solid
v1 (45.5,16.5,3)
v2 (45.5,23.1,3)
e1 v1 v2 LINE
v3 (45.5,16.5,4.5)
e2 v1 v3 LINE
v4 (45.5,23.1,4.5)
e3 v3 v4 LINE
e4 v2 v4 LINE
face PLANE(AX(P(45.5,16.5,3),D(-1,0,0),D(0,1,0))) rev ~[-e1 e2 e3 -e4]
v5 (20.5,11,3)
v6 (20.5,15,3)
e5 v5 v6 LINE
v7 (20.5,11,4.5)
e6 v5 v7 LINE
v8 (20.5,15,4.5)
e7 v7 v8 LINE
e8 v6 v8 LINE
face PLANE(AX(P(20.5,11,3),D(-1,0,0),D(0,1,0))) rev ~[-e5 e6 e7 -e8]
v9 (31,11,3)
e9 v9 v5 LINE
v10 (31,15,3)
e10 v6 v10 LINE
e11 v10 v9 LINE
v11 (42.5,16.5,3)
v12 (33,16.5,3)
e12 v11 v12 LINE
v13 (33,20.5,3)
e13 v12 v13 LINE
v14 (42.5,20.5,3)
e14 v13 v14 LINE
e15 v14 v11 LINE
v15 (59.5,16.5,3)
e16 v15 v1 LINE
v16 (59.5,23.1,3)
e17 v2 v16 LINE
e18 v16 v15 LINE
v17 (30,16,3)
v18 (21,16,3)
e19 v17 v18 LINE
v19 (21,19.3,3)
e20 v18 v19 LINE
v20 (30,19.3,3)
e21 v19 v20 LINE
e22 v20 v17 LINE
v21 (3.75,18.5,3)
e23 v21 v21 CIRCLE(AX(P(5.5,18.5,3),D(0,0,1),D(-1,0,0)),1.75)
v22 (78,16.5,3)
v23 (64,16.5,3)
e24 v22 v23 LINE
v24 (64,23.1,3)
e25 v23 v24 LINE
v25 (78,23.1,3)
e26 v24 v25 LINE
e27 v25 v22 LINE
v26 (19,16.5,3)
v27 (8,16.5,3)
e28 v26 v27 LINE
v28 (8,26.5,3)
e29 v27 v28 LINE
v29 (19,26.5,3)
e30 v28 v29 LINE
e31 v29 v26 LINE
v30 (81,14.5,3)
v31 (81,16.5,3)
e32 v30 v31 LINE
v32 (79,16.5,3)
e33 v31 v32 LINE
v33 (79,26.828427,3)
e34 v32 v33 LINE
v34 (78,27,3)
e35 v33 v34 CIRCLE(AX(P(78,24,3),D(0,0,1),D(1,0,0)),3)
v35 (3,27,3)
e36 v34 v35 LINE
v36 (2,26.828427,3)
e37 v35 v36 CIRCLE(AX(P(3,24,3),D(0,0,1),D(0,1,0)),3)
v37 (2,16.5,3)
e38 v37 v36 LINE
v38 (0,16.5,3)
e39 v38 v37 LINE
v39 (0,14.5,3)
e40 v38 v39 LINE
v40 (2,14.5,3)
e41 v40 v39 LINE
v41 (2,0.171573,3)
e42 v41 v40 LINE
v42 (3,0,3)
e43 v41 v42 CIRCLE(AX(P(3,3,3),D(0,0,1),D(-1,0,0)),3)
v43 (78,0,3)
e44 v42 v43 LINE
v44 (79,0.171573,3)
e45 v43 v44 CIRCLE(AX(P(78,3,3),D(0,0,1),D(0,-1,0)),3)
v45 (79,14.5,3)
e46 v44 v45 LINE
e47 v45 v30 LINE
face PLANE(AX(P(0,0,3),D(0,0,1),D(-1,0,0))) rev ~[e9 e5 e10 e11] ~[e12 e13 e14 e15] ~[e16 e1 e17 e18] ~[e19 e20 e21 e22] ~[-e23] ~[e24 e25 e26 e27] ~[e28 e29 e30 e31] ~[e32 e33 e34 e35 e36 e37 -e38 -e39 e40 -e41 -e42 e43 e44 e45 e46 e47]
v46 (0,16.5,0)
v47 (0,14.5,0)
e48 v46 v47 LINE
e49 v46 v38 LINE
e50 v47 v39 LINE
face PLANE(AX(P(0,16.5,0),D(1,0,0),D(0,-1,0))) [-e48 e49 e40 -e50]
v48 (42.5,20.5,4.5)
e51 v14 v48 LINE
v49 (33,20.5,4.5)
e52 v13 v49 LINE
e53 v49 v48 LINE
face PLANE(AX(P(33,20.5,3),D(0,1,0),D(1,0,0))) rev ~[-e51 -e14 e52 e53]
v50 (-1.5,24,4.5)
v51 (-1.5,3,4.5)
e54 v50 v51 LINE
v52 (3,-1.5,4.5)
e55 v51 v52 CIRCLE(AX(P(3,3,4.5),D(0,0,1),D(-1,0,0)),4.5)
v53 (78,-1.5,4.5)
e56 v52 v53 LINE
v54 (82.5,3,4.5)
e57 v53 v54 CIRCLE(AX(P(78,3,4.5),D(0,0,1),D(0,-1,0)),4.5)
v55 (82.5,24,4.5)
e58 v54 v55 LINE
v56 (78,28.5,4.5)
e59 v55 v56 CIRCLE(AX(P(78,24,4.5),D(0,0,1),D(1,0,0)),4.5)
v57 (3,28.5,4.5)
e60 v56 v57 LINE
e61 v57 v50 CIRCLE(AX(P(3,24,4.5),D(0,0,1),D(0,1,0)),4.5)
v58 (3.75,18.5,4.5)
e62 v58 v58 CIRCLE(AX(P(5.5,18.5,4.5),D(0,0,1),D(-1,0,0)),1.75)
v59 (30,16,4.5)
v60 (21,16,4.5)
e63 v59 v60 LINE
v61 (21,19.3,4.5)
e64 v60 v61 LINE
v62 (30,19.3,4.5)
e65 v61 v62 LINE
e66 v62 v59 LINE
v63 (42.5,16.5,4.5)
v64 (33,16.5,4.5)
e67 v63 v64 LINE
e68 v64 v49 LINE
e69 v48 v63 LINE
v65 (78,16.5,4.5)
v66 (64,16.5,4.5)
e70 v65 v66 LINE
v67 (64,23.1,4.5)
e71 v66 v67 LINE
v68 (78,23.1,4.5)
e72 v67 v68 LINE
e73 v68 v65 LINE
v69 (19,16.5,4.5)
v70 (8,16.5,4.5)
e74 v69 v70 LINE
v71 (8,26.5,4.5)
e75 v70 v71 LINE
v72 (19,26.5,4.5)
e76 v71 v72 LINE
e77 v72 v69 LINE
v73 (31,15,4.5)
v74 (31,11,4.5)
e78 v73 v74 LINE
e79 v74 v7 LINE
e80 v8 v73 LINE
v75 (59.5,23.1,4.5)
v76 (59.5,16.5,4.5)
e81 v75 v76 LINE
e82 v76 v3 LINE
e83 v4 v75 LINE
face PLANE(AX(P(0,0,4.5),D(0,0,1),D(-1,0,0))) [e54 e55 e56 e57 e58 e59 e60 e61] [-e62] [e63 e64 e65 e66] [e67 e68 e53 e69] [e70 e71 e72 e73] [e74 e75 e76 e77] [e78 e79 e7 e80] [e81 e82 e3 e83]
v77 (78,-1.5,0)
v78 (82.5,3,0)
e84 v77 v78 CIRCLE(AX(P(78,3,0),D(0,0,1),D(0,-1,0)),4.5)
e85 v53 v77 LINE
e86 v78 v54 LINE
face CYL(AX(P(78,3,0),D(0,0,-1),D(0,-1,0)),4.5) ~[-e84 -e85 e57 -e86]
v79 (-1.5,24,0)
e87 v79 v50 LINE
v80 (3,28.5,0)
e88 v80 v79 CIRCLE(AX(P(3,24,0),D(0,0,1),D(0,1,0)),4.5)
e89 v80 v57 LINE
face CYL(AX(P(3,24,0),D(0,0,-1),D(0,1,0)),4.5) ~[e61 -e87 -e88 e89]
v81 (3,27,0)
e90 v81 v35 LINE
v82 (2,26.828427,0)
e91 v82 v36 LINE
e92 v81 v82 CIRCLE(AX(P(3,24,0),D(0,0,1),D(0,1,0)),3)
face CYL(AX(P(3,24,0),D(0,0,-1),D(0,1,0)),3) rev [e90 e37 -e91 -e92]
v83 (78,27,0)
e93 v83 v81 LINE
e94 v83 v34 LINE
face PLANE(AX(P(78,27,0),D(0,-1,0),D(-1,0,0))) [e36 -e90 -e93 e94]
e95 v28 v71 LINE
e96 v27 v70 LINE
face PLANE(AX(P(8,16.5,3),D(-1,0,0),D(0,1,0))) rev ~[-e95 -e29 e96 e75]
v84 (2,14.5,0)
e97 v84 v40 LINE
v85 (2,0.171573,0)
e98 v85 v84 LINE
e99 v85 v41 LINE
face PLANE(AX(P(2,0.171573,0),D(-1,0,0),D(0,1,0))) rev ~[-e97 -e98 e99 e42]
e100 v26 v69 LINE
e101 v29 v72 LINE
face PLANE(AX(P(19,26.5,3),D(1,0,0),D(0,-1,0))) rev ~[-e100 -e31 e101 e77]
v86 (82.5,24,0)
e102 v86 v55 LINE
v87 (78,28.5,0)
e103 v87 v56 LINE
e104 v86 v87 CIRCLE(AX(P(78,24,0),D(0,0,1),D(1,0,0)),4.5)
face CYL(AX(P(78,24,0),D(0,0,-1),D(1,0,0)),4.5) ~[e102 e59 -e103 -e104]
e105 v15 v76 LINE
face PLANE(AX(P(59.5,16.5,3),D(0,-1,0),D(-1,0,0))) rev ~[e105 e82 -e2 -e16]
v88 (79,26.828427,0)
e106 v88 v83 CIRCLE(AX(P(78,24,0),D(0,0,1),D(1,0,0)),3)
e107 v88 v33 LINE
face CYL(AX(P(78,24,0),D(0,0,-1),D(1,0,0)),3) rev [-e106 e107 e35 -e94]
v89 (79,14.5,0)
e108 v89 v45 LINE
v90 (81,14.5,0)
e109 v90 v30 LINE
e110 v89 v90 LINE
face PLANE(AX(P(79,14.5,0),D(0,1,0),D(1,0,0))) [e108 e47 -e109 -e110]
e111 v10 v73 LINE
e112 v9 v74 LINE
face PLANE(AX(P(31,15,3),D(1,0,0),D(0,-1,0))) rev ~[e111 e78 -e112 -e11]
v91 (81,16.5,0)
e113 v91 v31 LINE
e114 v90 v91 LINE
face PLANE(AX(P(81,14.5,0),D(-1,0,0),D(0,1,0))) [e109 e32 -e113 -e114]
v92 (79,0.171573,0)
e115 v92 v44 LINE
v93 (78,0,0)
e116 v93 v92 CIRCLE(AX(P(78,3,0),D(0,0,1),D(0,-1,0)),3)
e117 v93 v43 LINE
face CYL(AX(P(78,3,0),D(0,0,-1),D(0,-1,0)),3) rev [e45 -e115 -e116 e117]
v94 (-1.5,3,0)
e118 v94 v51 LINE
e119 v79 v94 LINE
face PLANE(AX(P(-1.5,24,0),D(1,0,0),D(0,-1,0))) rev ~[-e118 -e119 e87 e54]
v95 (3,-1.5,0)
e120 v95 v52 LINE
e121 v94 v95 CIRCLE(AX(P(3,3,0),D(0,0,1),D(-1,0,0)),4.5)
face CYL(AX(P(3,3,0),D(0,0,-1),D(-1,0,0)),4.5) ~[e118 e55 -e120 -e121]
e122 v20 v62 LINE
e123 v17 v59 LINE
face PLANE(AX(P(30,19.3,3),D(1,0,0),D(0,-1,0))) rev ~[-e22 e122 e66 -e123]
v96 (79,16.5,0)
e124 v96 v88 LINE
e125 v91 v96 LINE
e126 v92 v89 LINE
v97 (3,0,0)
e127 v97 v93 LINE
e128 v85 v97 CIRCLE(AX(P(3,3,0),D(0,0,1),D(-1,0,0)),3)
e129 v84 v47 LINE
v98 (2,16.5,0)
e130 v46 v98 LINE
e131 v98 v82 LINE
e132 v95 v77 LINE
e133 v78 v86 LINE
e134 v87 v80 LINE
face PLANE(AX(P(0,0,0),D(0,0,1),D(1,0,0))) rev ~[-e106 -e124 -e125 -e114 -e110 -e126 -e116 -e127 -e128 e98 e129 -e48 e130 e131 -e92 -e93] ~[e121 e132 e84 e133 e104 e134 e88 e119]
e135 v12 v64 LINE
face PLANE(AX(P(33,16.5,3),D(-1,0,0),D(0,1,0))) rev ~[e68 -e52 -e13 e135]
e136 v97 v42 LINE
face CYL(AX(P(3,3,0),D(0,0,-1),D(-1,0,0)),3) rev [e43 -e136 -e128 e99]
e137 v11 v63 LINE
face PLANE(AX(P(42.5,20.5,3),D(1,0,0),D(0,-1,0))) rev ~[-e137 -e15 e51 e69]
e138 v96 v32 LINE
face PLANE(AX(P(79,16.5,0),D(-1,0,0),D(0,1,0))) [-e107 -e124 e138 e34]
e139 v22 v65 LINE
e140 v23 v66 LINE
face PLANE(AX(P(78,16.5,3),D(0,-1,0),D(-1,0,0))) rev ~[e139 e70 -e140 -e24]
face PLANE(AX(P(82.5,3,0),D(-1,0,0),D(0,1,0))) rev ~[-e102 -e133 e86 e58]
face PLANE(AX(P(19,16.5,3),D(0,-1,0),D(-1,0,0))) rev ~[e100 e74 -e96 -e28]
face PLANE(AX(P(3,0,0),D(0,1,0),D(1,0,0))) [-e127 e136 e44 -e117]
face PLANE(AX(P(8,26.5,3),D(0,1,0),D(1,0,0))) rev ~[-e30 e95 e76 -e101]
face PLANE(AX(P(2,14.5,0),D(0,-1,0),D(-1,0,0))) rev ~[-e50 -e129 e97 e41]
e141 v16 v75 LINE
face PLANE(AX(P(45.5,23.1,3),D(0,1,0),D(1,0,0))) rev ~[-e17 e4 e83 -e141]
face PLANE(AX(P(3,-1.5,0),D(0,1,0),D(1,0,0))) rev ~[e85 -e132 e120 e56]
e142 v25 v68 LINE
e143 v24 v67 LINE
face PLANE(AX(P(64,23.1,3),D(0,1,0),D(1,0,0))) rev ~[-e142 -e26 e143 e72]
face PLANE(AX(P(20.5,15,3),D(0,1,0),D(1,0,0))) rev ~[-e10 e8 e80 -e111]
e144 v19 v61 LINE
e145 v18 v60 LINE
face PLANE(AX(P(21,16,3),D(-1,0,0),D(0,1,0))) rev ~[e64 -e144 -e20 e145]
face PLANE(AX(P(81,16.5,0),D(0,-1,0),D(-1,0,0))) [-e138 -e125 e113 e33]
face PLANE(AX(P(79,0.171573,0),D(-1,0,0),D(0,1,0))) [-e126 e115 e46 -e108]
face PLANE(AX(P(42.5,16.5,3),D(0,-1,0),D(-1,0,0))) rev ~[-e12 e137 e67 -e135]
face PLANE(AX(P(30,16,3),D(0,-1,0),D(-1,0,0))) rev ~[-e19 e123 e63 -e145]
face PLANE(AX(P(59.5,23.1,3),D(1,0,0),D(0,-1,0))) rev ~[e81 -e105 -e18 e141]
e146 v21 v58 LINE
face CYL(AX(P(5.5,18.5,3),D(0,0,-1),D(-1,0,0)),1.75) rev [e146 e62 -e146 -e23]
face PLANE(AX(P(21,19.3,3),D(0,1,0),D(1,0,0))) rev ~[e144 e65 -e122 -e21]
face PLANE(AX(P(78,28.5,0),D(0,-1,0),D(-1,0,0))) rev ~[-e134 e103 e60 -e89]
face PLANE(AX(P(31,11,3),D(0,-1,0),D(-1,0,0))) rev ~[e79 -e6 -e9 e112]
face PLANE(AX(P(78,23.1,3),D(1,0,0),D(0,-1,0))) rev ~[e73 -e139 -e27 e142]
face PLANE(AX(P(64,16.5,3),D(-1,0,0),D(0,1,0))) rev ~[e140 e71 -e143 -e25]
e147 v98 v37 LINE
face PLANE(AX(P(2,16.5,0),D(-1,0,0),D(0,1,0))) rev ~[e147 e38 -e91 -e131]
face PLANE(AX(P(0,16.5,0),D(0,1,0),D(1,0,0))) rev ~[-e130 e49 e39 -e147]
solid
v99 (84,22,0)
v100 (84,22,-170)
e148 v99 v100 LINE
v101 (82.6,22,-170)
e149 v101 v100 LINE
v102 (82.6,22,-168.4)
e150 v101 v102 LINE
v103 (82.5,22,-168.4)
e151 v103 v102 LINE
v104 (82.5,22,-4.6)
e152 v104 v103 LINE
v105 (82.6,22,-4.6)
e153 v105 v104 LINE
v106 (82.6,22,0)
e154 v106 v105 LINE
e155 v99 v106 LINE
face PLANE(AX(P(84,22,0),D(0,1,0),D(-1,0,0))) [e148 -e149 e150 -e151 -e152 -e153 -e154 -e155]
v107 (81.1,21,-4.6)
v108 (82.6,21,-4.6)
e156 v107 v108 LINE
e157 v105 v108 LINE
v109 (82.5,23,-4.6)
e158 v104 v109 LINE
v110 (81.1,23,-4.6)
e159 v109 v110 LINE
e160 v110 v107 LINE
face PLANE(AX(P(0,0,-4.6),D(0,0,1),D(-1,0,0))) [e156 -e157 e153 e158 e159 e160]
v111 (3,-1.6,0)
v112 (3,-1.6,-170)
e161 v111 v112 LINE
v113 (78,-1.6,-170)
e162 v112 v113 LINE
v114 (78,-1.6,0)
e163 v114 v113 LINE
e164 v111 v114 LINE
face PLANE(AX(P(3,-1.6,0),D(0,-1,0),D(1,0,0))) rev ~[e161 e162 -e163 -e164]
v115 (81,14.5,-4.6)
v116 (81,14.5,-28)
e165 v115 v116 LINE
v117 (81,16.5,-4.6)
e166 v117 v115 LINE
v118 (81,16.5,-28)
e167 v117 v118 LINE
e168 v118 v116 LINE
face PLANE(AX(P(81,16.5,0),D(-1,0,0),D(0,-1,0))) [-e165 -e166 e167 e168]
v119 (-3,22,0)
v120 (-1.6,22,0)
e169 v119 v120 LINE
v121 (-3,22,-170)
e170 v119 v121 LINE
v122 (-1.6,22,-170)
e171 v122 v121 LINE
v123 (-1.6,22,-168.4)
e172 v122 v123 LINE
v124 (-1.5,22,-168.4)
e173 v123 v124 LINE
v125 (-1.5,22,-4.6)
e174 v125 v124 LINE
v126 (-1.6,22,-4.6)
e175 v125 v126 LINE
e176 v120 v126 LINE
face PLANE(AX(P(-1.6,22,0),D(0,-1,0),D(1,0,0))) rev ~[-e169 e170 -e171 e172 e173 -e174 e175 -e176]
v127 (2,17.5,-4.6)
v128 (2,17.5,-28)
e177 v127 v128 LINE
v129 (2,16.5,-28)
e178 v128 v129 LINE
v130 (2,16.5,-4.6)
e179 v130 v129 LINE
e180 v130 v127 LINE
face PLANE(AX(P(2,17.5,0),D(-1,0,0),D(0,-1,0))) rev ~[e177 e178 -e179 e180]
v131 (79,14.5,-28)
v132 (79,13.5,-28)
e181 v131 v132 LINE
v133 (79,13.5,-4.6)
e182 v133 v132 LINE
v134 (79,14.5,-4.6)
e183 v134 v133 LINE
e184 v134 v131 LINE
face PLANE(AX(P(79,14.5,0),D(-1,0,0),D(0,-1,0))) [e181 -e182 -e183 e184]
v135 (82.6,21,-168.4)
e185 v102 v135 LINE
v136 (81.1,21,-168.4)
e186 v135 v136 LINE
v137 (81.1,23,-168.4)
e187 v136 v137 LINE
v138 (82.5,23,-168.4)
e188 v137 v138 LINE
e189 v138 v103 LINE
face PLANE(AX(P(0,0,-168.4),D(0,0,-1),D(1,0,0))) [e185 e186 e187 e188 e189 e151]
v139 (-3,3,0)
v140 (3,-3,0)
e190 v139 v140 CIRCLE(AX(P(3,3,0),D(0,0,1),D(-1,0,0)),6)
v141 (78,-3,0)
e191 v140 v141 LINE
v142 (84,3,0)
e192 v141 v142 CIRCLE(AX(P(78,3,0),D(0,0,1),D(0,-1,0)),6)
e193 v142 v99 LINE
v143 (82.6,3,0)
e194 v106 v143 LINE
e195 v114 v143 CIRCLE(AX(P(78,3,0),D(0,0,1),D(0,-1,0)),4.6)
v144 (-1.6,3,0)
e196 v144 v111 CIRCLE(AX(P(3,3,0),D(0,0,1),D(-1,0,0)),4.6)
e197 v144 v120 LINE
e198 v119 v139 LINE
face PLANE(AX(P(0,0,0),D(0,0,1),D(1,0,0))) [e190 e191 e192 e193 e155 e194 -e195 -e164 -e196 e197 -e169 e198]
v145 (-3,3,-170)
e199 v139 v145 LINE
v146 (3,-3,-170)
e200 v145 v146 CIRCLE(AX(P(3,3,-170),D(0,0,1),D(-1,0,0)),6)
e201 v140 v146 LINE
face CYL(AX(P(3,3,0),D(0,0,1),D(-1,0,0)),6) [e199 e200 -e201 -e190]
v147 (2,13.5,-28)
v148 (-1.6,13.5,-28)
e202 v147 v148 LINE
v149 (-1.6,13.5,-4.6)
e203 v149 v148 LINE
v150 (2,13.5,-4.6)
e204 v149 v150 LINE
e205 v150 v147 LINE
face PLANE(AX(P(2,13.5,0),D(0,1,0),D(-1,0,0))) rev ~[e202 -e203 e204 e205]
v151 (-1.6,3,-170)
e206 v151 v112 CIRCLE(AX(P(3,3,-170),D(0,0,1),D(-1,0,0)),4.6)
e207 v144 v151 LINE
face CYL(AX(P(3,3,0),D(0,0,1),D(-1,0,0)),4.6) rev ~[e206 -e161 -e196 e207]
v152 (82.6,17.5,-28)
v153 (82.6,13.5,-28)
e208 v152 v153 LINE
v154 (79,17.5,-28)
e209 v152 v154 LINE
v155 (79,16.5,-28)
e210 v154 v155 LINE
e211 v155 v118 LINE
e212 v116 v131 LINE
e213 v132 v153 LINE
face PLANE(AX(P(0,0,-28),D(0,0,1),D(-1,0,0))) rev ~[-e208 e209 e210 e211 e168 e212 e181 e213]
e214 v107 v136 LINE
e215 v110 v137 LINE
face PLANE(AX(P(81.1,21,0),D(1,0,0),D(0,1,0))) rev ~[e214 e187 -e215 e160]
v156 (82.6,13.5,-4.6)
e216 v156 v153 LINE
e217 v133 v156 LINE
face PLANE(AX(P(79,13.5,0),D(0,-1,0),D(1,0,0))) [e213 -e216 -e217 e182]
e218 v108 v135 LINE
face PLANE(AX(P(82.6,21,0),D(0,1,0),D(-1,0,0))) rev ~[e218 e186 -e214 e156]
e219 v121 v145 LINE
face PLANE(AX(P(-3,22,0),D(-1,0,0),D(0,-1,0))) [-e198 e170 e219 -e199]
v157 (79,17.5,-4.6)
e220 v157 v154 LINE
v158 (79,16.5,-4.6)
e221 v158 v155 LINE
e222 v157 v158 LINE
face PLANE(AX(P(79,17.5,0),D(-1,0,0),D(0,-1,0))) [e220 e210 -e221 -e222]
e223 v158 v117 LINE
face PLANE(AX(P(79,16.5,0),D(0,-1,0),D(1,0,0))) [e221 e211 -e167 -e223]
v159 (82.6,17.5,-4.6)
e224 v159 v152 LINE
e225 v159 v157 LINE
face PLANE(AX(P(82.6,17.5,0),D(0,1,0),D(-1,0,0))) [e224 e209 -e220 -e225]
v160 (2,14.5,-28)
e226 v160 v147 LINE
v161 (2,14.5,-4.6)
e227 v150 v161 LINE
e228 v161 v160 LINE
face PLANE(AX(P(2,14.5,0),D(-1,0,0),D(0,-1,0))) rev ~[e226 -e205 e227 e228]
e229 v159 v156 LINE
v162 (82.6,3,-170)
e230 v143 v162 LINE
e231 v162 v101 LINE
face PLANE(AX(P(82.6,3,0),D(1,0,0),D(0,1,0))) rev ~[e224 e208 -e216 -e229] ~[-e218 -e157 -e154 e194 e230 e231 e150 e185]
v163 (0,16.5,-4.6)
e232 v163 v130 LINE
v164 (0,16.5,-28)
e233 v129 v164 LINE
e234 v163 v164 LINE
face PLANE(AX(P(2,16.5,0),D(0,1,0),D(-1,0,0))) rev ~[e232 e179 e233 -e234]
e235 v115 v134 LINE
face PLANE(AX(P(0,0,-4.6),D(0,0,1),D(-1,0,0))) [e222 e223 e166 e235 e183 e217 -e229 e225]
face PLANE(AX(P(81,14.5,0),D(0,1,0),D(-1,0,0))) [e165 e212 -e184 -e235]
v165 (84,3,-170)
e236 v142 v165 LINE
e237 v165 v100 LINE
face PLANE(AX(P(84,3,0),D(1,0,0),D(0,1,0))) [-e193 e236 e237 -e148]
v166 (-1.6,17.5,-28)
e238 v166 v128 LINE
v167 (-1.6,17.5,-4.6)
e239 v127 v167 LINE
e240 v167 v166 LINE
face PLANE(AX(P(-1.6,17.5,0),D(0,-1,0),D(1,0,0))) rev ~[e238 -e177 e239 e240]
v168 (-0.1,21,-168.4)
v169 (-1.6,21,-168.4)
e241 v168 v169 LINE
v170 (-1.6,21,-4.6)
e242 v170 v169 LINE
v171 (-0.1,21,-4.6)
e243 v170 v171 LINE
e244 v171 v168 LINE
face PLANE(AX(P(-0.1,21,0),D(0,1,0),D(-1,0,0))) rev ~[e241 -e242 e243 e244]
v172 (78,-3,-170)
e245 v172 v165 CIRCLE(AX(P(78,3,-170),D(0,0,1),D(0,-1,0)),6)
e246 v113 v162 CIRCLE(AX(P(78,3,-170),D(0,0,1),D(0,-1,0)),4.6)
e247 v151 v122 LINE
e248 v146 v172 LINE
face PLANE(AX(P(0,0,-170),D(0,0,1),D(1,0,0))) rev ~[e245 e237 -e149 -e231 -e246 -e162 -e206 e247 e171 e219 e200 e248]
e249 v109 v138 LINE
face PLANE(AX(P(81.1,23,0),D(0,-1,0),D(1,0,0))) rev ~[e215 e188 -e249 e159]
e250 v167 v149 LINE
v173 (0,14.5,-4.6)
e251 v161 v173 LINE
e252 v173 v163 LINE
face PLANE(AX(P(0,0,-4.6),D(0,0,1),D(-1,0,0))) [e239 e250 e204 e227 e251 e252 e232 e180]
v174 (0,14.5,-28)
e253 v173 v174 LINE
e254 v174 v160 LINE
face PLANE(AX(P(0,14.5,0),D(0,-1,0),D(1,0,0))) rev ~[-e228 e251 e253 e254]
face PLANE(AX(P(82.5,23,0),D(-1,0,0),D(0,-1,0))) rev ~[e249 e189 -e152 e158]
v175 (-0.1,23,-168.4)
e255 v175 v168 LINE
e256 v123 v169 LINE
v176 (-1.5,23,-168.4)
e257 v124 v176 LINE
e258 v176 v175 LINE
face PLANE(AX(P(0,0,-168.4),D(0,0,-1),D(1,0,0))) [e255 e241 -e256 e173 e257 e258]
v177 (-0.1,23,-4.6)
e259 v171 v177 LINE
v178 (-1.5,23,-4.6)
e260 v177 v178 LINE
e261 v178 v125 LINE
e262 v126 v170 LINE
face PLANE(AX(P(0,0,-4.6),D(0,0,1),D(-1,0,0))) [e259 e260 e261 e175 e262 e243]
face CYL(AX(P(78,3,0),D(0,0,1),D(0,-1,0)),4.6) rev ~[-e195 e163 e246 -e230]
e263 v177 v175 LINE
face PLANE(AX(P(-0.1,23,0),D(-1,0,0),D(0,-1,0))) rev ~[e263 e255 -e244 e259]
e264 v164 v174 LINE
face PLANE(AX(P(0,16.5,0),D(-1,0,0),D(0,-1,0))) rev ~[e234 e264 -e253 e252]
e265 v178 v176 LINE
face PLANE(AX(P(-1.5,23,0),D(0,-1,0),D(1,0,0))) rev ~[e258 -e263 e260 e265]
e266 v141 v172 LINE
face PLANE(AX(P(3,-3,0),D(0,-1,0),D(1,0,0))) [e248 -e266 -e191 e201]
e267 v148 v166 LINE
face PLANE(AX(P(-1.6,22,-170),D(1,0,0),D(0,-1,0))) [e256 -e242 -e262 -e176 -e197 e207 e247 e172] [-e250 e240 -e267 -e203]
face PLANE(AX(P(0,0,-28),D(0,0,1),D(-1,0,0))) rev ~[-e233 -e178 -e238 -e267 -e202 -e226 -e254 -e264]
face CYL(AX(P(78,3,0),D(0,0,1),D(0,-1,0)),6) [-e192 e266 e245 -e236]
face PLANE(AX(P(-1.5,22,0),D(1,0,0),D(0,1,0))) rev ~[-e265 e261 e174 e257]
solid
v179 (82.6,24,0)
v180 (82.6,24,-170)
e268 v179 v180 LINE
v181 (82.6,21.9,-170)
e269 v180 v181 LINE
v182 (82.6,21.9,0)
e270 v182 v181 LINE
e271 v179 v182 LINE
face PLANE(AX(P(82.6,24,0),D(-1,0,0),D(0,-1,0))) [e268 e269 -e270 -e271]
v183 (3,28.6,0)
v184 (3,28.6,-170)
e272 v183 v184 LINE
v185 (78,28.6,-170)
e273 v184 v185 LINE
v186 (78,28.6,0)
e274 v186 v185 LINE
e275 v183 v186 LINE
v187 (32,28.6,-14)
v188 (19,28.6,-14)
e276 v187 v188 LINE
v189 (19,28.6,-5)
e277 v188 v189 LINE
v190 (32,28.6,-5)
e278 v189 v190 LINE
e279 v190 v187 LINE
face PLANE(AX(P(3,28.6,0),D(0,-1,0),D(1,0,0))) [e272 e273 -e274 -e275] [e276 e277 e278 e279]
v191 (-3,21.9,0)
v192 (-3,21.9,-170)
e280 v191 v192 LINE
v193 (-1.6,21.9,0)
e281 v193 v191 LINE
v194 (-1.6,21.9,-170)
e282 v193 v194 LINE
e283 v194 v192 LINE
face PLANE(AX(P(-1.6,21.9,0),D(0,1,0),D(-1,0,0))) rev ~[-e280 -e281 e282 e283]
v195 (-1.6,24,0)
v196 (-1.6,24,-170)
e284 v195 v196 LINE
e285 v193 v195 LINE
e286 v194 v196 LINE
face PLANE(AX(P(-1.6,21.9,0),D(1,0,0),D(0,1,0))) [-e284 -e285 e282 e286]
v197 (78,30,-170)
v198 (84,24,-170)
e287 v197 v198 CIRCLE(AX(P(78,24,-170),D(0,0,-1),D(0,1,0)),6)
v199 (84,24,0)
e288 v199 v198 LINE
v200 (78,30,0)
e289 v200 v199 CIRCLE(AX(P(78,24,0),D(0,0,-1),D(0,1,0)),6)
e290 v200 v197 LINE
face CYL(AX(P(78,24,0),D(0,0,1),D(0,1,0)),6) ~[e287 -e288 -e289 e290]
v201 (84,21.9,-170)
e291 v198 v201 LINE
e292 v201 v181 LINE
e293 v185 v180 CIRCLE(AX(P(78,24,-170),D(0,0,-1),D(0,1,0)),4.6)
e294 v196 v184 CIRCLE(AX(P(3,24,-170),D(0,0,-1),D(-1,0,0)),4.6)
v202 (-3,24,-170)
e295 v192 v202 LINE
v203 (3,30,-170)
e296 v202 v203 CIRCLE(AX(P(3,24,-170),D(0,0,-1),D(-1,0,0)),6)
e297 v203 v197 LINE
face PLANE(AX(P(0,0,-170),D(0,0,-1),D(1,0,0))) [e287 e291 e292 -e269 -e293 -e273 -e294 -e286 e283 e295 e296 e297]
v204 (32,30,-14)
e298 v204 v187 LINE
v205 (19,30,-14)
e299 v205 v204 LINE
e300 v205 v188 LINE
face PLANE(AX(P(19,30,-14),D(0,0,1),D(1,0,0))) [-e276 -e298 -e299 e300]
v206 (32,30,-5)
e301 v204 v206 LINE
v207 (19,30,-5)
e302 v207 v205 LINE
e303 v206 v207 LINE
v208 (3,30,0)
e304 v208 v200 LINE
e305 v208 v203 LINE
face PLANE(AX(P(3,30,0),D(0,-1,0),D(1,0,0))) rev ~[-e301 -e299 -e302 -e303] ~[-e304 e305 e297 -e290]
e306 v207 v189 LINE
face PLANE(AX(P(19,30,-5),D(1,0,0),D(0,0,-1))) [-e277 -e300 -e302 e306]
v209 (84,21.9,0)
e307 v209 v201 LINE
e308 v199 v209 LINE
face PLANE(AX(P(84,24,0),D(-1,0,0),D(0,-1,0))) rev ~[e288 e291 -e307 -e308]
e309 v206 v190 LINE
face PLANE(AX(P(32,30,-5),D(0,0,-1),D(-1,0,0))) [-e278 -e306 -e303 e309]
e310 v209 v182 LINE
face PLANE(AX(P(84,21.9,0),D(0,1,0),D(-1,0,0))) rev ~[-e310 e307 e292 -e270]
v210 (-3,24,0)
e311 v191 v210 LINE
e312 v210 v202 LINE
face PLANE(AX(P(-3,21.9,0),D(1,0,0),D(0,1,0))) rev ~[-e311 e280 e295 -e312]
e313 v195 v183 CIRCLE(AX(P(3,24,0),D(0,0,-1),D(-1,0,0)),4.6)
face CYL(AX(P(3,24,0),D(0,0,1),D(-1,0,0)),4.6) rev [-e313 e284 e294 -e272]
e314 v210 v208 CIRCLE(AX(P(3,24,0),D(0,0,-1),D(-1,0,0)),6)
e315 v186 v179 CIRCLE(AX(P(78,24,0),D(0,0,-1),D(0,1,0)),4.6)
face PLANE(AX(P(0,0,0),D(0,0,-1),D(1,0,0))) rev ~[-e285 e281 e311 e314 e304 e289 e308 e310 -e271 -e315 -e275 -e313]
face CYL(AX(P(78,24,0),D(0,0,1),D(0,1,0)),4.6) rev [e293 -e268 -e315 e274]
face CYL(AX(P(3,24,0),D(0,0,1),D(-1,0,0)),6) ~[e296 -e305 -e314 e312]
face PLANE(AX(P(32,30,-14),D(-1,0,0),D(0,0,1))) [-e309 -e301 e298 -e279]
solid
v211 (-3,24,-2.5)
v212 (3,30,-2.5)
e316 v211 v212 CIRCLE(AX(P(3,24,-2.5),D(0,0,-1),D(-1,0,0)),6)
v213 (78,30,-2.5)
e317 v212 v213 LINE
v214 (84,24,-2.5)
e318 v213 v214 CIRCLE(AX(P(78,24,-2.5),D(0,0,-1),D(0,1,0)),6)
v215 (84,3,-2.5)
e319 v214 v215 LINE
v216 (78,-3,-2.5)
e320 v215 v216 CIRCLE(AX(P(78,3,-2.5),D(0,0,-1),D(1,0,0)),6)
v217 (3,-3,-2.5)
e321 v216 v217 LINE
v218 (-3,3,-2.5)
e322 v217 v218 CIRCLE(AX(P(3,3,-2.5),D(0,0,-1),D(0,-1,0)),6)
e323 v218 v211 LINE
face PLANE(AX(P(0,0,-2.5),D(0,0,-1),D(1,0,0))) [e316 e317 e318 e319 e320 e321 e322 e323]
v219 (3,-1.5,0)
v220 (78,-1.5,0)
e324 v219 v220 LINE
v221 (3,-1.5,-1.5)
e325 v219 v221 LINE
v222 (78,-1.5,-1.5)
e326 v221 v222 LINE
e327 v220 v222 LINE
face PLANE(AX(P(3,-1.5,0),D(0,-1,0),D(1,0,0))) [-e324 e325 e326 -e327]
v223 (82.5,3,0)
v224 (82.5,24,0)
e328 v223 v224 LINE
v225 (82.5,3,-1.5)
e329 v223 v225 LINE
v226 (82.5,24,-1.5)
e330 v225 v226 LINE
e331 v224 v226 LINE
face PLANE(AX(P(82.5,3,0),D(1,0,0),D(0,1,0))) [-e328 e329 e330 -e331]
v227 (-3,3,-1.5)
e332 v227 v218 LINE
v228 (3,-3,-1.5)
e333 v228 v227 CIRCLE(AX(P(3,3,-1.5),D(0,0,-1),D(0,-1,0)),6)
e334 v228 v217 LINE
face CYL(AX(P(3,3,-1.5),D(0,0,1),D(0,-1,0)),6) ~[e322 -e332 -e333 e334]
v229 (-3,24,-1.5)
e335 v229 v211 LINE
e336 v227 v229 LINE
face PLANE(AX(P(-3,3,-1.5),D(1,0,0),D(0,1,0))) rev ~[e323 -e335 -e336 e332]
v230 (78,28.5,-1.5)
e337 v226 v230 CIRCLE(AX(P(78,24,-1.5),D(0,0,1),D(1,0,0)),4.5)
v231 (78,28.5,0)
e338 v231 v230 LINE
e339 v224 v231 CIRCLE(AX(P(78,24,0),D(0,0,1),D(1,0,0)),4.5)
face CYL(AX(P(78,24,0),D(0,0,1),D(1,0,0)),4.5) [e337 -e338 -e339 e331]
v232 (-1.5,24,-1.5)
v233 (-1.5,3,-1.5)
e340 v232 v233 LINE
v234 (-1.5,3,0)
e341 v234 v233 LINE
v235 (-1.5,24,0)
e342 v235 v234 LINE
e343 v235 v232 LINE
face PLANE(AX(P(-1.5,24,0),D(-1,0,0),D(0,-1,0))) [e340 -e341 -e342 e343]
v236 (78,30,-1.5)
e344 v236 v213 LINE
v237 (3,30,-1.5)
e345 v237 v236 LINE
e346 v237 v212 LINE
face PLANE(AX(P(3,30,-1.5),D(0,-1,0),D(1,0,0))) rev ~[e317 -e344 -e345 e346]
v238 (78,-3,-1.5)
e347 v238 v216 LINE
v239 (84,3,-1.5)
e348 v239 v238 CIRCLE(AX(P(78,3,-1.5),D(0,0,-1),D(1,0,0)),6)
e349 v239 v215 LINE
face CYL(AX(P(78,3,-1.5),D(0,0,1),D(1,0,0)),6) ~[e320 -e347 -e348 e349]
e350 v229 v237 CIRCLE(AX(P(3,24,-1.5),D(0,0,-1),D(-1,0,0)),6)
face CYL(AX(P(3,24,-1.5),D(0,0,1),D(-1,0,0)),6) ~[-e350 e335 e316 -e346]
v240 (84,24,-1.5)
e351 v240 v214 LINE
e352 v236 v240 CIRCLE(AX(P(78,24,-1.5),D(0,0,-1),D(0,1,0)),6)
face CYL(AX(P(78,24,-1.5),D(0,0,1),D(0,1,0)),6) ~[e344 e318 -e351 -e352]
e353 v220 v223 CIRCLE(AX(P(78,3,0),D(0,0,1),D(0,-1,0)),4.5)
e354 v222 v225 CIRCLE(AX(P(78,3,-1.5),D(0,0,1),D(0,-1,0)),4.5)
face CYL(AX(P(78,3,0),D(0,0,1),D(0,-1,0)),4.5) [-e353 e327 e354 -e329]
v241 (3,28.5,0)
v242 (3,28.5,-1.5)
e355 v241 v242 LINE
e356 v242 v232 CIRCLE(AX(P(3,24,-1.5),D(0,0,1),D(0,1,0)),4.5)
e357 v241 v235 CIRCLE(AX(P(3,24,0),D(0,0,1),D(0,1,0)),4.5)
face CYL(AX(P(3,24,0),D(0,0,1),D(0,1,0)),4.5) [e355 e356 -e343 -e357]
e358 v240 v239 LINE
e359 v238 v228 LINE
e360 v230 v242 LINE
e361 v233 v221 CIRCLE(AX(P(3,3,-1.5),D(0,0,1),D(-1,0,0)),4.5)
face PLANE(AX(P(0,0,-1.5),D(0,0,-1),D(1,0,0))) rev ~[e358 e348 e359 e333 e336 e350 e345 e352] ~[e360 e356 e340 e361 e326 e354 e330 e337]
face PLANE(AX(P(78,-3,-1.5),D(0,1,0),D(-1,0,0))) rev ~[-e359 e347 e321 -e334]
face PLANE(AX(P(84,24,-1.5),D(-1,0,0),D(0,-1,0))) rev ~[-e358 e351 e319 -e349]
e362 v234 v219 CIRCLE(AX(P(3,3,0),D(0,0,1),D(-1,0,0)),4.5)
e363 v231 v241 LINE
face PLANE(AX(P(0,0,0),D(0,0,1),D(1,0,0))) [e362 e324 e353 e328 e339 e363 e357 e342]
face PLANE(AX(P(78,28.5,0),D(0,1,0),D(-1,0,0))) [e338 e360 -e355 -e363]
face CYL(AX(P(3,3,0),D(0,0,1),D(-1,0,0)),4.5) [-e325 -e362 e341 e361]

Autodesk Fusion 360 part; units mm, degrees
sketch "Sketch1" plane through (0, 0, 0) normal (0, 0, 1) x (1, 0, 0) in component "PWRBankModule"
  line L0 (3, 0) -> (78, 0)
  line L1 (81, 3) -> (81, 24)
  line L2 (78, 27) -> (3, 27)
  line L3 (0, 24) -> (0, 3)
  line L4 (2, 0) -> (2, 14.5)
  line L5 (2, 14.5) -> (0, 14.5)
  line L6 (0, 16.5) -> (2, 16.5)
  line L7 (2, 16.5) -> (2, 27)
  line L8 (79, 0) -> (79, 14.5)
  line L9 (79, 14.5) -> (81, 14.5)
  line L10 (81, 16.5) -> (79, 16.5)
  line L11 (79, 16.5) -> (79, 27)
  arc A0 (3, 27) -> (0, 24) centre (3, 24) ccw
  arc A1 (0, 3) -> (3, 0) centre (3, 3) ccw
  arc A2 (78, 0) -> (81, 3) centre (78, 3) ccw
  arc A3 (81, 24) -> (78, 27) centre (78, 24) ccw
  line L12 (82.5, 3) -> (82.5, 24)
  arc A4 (82.5, 24) -> (78, 28.5) centre (78, 24) ccw
  line L13 (78, 28.5) -> (3, 28.5)
  arc A5 (3, 28.5) -> (-1.5, 24) centre (3, 24) ccw
  line L14 (-1.5, 24) -> (-1.5, 3)
  arc A6 (-1.5, 3) -> (3, -1.5) centre (3, 3) ccw
  line L15 (3, -1.5) -> (78, -1.5)
  arc A7 (78, -1.5) -> (82.5, 3) centre (78, 3) ccw
  point P0 (81, 0)
  point P1 (0, 27)
  dimension "d1" = 81
  dimension "d2" = 1.5
  dimension "d3" = 77
  dimension "d4" = 2
  dimension "d5" = 2
  dimension "d6" = 2
  dimension "d7" = 2
  dimension "d8" = 2
  dimension "d9" = 14.5
  dimension "d10" = 14.5
  dimension "d11" = 27
  dimension "d50" = 3
  dimension "d51" = 3
  dimension "d52" = 3
  dimension "d53" = 3
  dimension "d54" = 12.5
extrude "Extrude1" add sketch "Sketch1" along normal blind 3 contours L3 L4 L5 A1 | L1 L8 L9 A2 | L3 L6 L7 A0 | L1 L10 L11 A3 | L12 A4 L13 A5 L14 A6 L15 A7 makes body 1 in component "PWRBankModule"
sketch "Sketch2" plane through (0, 0, 3) normal (0, 0, 1) x (-1, 0, 0) in component "PWRBankModule"
  line L0 (-78, 0) -> (-3, 0)
  line L1 (0, -14.5) -> (0, -16.5)
  line L2 (-3, -27) -> (-78, -27)
  line L3 (-81, -16.5) -> (-81, -14.5)
  line L4 (-3, 1.5) -> (-78, 1.5)
  line L5 (-82.5, -3) -> (-82.5, -24)
  line L6 (-78, -28.5) -> (-3, -28.5)
  line L7 (1.5, -24) -> (1.5, -3)
  line L8 (-78, 0) -> (-3, 0) construction
  line L9 (-2, -0.1716) -> (-2, -14.5) construction
  line L10 (-2, -14.5) -> (0, -14.5) construction
  line L11 (0, -14.5) -> (0, -16.5) construction
  line L12 (0, -16.5) -> (-2, -16.5) construction
  line L13 (-2, -16.5) -> (-2, -26.8284) construction
  line L14 (-3, -27) -> (-78, -27) construction
  line L15 (-81, -16.5) -> (-81, -14.5) construction
  line L16 (-81, -14.5) -> (-79, -14.5) construction
  line L17 (-79, -14.5) -> (-79, -0.1716) construction
  line L18 (-79, -26.8284) -> (-79, -16.5) construction
  line L19 (-79, -16.5) -> (-81, -16.5) construction
  line L20 (-64, -23.1) -> (-78, -23.1)
  line L21 (-78, -23.1) -> (-78, -16.5)
  line L22 (-78, -16.5) -> (-64, -16.5)
  line L23 (-64, -16.5) -> (-64, -23.1)
  line L24 (-45.5, -23.1) -> (-59.5, -23.1)
  line L25 (-59.5, -23.1) -> (-59.5, -16.5)
  line L26 (-59.5, -16.5) -> (-45.5, -16.5)
  line L27 (-45.5, -16.5) -> (-45.5, -23.1)
  line L28 (-33, -20.5) -> (-42.5, -20.5)
  line L29 (-42.5, -20.5) -> (-42.5, -16.5)
  line L30 (-42.5, -16.5) -> (-33, -16.5)
  line L31 (-33, -16.5) -> (-33, -20.5)
  line L32 (-21, -19.3) -> (-30, -19.3)
  line L33 (-30, -19.3) -> (-30, -16)
  line L34 (-30, -16) -> (-21, -16)
  line L35 (-21, -16) -> (-21, -19.3)
  line L36 (-20.5, -15) -> (-31, -15)
  line L37 (-31, -15) -> (-31, -11)
  line L38 (-31, -11) -> (-20.5, -11)
  line L39 (-20.5, -11) -> (-20.5, -15)
  line L40 (-8, -26.5) -> (-19, -26.5)
  line L41 (-19, -26.5) -> (-19, -16.5)
  line L42 (-19, -16.5) -> (-8, -16.5)
  line L43 (-8, -16.5) -> (-8, -26.5)
  circle A0 centre (-5.5, -18.5) radius 1.75
  arc A1 (-3, -27) -> (-2, -26.8284) centre (-3, -24) ccw
  arc A2 (-79, -26.8284) -> (-78, -27) centre (-78, -24) ccw
  arc A3 (-78, 0) -> (-79, -0.1716) centre (-78, -3) ccw
  arc A4 (-2, -0.1716) -> (-3, 0) centre (-3, -3) ccw
  arc A5 (-78, 1.5) -> (-82.5, -3) centre (-78, -3) ccw
  arc A6 (-82.5, -24) -> (-78, -28.5) centre (-78, -24) ccw
  arc A7 (-3, -28.5) -> (1.5, -24) centre (-3, -24) ccw
  arc A8 (1.5, -3) -> (-3, 1.5) centre (-3, -3) ccw
  line L44 (-2, -0.1716) -> (-2, -14.5)
  line L45 (-2, -14.5) -> (0, -14.5)
  line L46 (0, -16.5) -> (-2, -16.5)
  line L47 (-2, -16.5) -> (-2, -26.8284)
  line L48 (-79, -26.8284) -> (-79, -16.5)
  line L49 (-79, -16.5) -> (-81, -16.5)
  line L50 (-81, -14.5) -> (-79, -14.5)
  line L51 (-79, -14.5) -> (-79, -0.1716)
  dimension "d14" = 81
  dimension "d15" = 14
  dimension "d16" = 14
  dimension "d17" = 4.5
  dimension "d18" = 6.6
  dimension "d20" = 3
  dimension "d21" = 48
  dimension "d22" = 9.5
  dimension "d23" = 60
  dimension "d24" = 9
  dimension "d25" = 3.3
  dimension "d26" = 4
  dimension "d27" = 60.5
  dimension "d28" = 10.5
  dimension "d29" = 4
  dimension "d30" = 73
  dimension "d31" = 11
  dimension "d32" = 10
  dimension "d33" = 75.5
  dimension "d34" = 3.5
  dimension "d35" = 8.6
  dimension "d38" = 1.5
  dimension "d39" = 0.5
  dimension "d40" = 2
  dimension "d55" = 6.6
  dimension "d56" = 4
  dimension "d57" = 6.6
  dimension "d58" = 2
extrude "Extrude2" add sketch "Sketch2" along normal blind 1.5 contours L0 L1 L2 L3 A1 A2 A3 A4 L44 L45 L46 L47 L48 L49 L50 L51 | L4 L5 L6 L7 A5 A6 A7 A8 bodies 1 in component "PWRBankModule"
sketch "Sketch3" plane through (0, 0, 3) normal (0, 0, -1) x (1, 0, 0) in component "PWRBankModule"
  line L0 (45.5, -16.5) -> (59.5, -16.5)
  line L1 (59.5, -16.5) -> (59.5, -23.1)
  line L2 (59.5, -23.1) -> (45.5, -23.1)
  line L3 (45.5, -23.1) -> (45.5, -16.5)
  line L4 (33, -16.5) -> (42.5, -16.5)
  line L5 (42.5, -16.5) -> (42.5, -20.5)
  line L6 (42.5, -20.5) -> (33, -20.5)
  line L7 (33, -20.5) -> (33, -16.5)
  line L8 (64, -16.5) -> (78, -16.5)
  line L9 (78, -16.5) -> (78, -23.1)
  line L10 (78, -23.1) -> (64, -23.1)
  line L11 (64, -23.1) -> (64, -16.5)
  line L12 (21, -16) -> (30, -16)
  line L13 (30, -16) -> (30, -19.3)
  line L14 (30, -19.3) -> (21, -19.3)
  line L15 (21, -19.3) -> (21, -16)
  line L16 (20.5, -11) -> (31, -11)
  line L17 (31, -11) -> (31, -15)
  line L18 (31, -15) -> (20.5, -15)
  line L19 (20.5, -15) -> (20.5, -11)
  circle A0 centre (5.5, -18.5) radius 1.75
  line L20 (8, -16.5) -> (19, -16.5)
  line L21 (19, -16.5) -> (19, -26.5)
  line L22 (19, -26.5) -> (8, -26.5)
  line L23 (8, -26.5) -> (8, -16.5)
  line L24 (78, -23.1) -> (45.4821, -23.1)
  line L25 (45.4821, -23.1) -> (45.4821, -24.1)
  line L26 (45.4821, -24.1) -> (78, -24.1)
  line L27 (78, -24.1) -> (78, -23.1)
  line L28 (64, -23.1) -> (63, -23.1)
  line L29 (63, -23.1) -> (63, -6)
  line L30 (63, -6) -> (64, -6)
  line L31 (64, -6) -> (64, -23.1)
  line L32 (59.5, -23.1) -> (60.5, -23.1)
  line L33 (60.5, -23.1) -> (60.5, -6)
  line L34 (60.5, -6) -> (59.5, -6)
  line L35 (59.5, -6) -> (59.5, -23.1)
  line L36 (33, -20.5) -> (43.5, -20.5)
  line L37 (43.5, -20.5) -> (43.5, -21.5)
  line L38 (43.5, -21.5) -> (33, -21.5)
  line L39 (33, -21.5) -> (33, -20.5)
  line L40 (43.5, -20.5) -> (42.5, -20.5)
  line L41 (42.5, -20.5) -> (42.5, -16.5)
  line L42 (42.5, -16.5) -> (43.5, -16.5)
  line L43 (43.5, -16.5) -> (43.5, -20.5)
  line L44 (33, -16.5) -> (32, -16.5)
  line L45 (32, -16.5) -> (32, -10.9)
  line L46 (32, -10.9) -> (33, -10.9)
  line L47 (33, -10.9) -> (33, -16.5)
  line L48 (78, 0) -> (3, 0)
  arc A1 (3, 0) -> (2, -0.1716) centre (3, -3) ccw
  line L49 (2, -0.1716) -> (2, -14.5)
  line L50 (2, -14.5) -> (0, -14.5)
  line L51 (0, -14.5) -> (0, -16.5)
  line L52 (0, -16.5) -> (2, -16.5)
  line L53 (2, -16.5) -> (2, -26.8284)
  arc A2 (2, -26.8284) -> (3, -27) centre (3, -24) ccw
  line L54 (3, -27) -> (78, -27)
  arc A3 (78, -27) -> (79, -26.8284) centre (78, -24) ccw
  line L55 (79, -26.8284) -> (79, -16.5)
  line L56 (79, -16.5) -> (81, -16.5)
  line L57 (81, -16.5) -> (81, -14.5)
  line L58 (81, -14.5) -> (79, -14.5)
  line L59 (79, -14.5) -> (79, -0.1716)
  arc A4 (79, -0.1716) -> (78, 0) centre (78, -3) ccw
  dimension "d44" = 1
  dimension "d45" = 1
  dimension "d46" = 1
  dimension "d47" = 1
  dimension "d48" = 1
  dimension "d49" = 1
sketch "Sketch1 (2)" plane through (0, 0, 0) normal (0, 0, 1) x (1, 0, 0) in component "ButtLid"
  line L0 (3, -1.5) -> (78, -1.5) construction
  arc A0 (78, -1.5) -> (82.5, 3) centre (78, 3) ccw construction
  line L1 (82.5, 3) -> (82.5, 24) construction
  arc A1 (82.5, 24) -> (78, 28.5) centre (78, 24) ccw construction
  line L2 (78, 28.5) -> (3, 28.5) construction
  arc A2 (3, 28.5) -> (-1.5, 24) centre (3, 24) ccw construction
  line L3 (-1.5, 24) -> (-1.5, 3) construction
  arc A3 (-1.5, 3) -> (3, -1.5) centre (3, 3) ccw construction
  arc A4 (3, 28.6) -> (-1.6, 24) centre (3, 24) ccw
  line L4 (-1.6, 24) -> (-1.6, 3)
  arc A5 (-1.6, 3) -> (3, -1.6) centre (3, 3) ccw
  line L5 (3, -1.6) -> (78, -1.6)
  arc A6 (78, -1.6) -> (82.6, 3) centre (78, 3) ccw
  line L6 (82.6, 3) -> (82.6, 24)
  arc A7 (82.6, 24) -> (78, 28.6) centre (78, 24) ccw
  line L7 (78, 28.6) -> (3, 28.6)
  arc A8 (3, 30) -> (-3, 24) centre (3, 24) ccw
  line L8 (-3, 24) -> (-3, 3)
  arc A9 (-3, 3) -> (3, -3) centre (3, 3) ccw
  line L9 (3, -3) -> (78, -3)
  arc A10 (78, -3) -> (84, 3) centre (78, 3) ccw
  line L10 (84, 3) -> (84, 24)
  arc A11 (84, 24) -> (78, 30) centre (78, 24) ccw
  line L11 (78, 30) -> (3, 30)
  line L12 (84, 22) -> (82.6, 22)
  line L13 (82.6, 21) -> (81.1, 21)
  line L14 (81.1, 21) -> (81.1, 23)
  line L15 (81.1, 23) -> (82.5, 23)
  line L16 (82.5, 23) -> (82.5, 22)
  line L17 (82.5, 22) -> (82.6, 22)
  line L18 (-1.6, 22) -> (-3, 22)
  line L19 (-1.6, 22) -> (-1.5, 22)
  line L20 (-1.5, 22) -> (-1.5, 23)
  line L21 (-1.5, 23) -> (-0.1, 23)
  line L22 (-0.1, 23) -> (-0.1, 21)
  line L23 (-0.1, 21) -> (-1.6, 21)
  dimension "d59" = 0.1
  dimension "d60" = 1.5
  dimension "d61" = 1
  dimension "d62" = 2
  dimension "d63" = 1.5
  dimension "d64" = 0.1
  dimension "d65" = 25
  dimension "d70" = 1.5
  dimension "d71" = 2
  dimension "d72" = 1
  dimension "d73" = 0.1
  dimension "d74" = 25
extrude "Extrude1'" add sketch "Sketch1 (2)" against normal blind 170 separate body contours L4 L19 L20 L21 L22 L23 | L4 A5 L5 A6 L6 L8 A9 L9 A10 L10 L12 L18 | L6 L13 L14 L15 L16 L17 makes body 2 in component "ButtLid"
sketch "Sketch2 (2)" plane through (0, 0, 0) normal (0, 0, 1) x (-1, 0, 0) in component "ButtLid"
  line L0 (1.5, -22) -> (3, -22)
  line L1 (3, -22) -> (3, -3)
  arc A0 (3, -3) -> (-3, 3) centre (-3, -3) ccw
  line L2 (-3, 3) -> (-78, 3)
  arc A1 (-78, 3) -> (-84, -3) centre (-78, -3) ccw
  line L3 (-84, -3) -> (-84, -22)
  line L4 (-84, -22) -> (-82.5, -22)
  line L5 (-82.5, -22) -> (-82.5, -23)
  line L6 (-82.5, -23) -> (-81.1, -23)
  line L7 (-81.1, -23) -> (-81.1, -21)
  line L8 (-81.1, -21) -> (-82.6, -21)
  line L9 (-82.6, -21) -> (-82.6, -3)
  arc A2 (-78, 1.6) -> (-82.6, -3) centre (-78, -3) ccw
  line L10 (-78, 1.6) -> (-3, 1.6)
  arc A3 (1.6, -3) -> (-3, 1.6) centre (-3, -3) ccw
  line L11 (1.6, -3) -> (1.6, -21)
  line L12 (1.6, -21) -> (0.1, -21)
  line L13 (0.1, -21) -> (0.1, -23)
  line L14 (0.1, -23) -> (1.5, -23)
  line L15 (1.5, -23) -> (1.5, -22)
  line L16 (-82.6, -17.5) -> (-79, -17.5)
  line L17 (-79, -17.5) -> (-79, -16.5)
  line L18 (-79, -16.5) -> (-81, -16.5)
  line L19 (-81, -16.5) -> (-81, -14.5)
  line L20 (-81, -14.5) -> (-79, -14.5)
  line L21 (-79, -14.5) -> (-79, -13.5)
  line L22 (-79, -13.5) -> (-82.6, -13.5)
  line L23 (1.6, -17.5) -> (-2, -17.5)
  line L24 (-2, -17.5) -> (-2, -16.5)
  line L25 (-2, -16.5) -> (0, -16.5)
  line L26 (0, -16.5) -> (0, -14.5)
  line L27 (0, -14.5) -> (-2, -14.5)
  line L28 (-2, -14.5) -> (-2, -13.5)
  line L29 (-2, -13.5) -> (1.6, -13.5)
  point P0 (-79, -16.5)
  point P1 (-81, -16.5)
  point P2 (-81, -14.5)
  point P3 (-79, -14.5)
  point P4 (0, -14.5)
  point P5 (-2, -14.5)
  point P6 (-2, -16.5)
  point P7 (0, -16.5)
  dimension "d77" = 1
  dimension "d78" = 1
  dimension "d79" = 1
  dimension "d80" = 1
extrude "Extrude2'" add sketch "Sketch2 (2)" against normal blind 28 contours L11 L23 L24 L25 L26 L27 L28 L29 | L9 L16 L17 L18 L19 L20 L21 L22 bodies 2 in component "ButtLid"
sketch "Sketch3 (2)" plane through (0, 0, 0) normal (0, 0, 1) x (-1, 0, 0) in component "ButtLid"
  line L0 (1.5, -22) -> (3, -22)
  line L1 (3, -22) -> (3, -3)
  arc A0 (3, -3) -> (-3, 3) centre (-3, -3) ccw
  line L2 (-3, 3) -> (-78, 3)
  arc A1 (-78, 3) -> (-84, -3) centre (-78, -3) ccw
  line L3 (-84, -3) -> (-84, -22)
  line L4 (-84, -22) -> (-82.5, -22)
  line L5 (-82.5, -22) -> (-82.5, -23)
  line L6 (-82.5, -23) -> (-81.1, -23)
  line L7 (-81.1, -23) -> (-81.1, -21)
  line L8 (-81.1, -21) -> (-82.6, -21)
  line L9 (-82.6, -21) -> (-82.6, -17.5)
  line L10 (-82.6, -17.5) -> (-79, -17.5)
  line L11 (-79, -17.5) -> (-79, -16.5)
  line L12 (-79, -16.5) -> (-81, -16.5)
  line L13 (-81, -16.5) -> (-81, -14.5)
  line L14 (-81, -14.5) -> (-79, -14.5)
  line L15 (-79, -14.5) -> (-79, -13.5)
  line L16 (-79, -13.5) -> (-82.6, -13.5)
  line L17 (-82.6, -13.5) -> (-82.6, -3)
  arc A2 (-78, 1.6) -> (-82.6, -3) centre (-78, -3) ccw
  line L18 (-78, 1.6) -> (-3, 1.6)
  arc A3 (1.6, -3) -> (-3, 1.6) centre (-3, -3) ccw
  line L19 (1.6, -3) -> (1.6, -13.5)
  line L20 (1.6, -13.5) -> (-2, -13.5)
  line L21 (-2, -13.5) -> (-2, -14.5)
  line L22 (-2, -14.5) -> (0, -14.5)
  line L23 (0, -14.5) -> (0, -16.5)
  line L24 (0, -16.5) -> (-2, -16.5)
  line L25 (-2, -16.5) -> (-2, -17.5)
  line L26 (-2, -17.5) -> (1.6, -17.5)
  line L27 (1.6, -17.5) -> (1.6, -21)
  line L28 (1.6, -21) -> (0.1, -21)
  line L29 (0.1, -21) -> (0.1, -23)
  line L30 (0.1, -23) -> (1.5, -23)
  line L31 (1.5, -23) -> (1.5, -22)
  line L32 (-82.6, -13.5) -> (-79, -13.5)
  line L33 (-79, -13.5) -> (-79, -23)
  line L34 (-79, -23) -> (-82.6, -23)
  line L35 (-82.6, -23) -> (-82.6, -13.5)
  line L36 (1.6, -13.5) -> (-2, -13.5)
  line L37 (-2, -13.5) -> (-2, -23)
  line L38 (-2, -23) -> (1.6, -23)
  line L39 (1.6, -23) -> (1.6, -13.5)
  dimension "d83" = 3.6
  dimension "d84" = 3.6
extrude "Extrude3" cut sketch "Sketch3 (2)" against normal blind 4.6 contours L0 L28 L29 L30 L31 L38 L39 | L20 L21 L22 L23 L24 L25 L26 L36 L37 L39 | L4 L5 L6 L7 L8 L34 L35 | L10 L11 L12 L13 L14 L15 L16 L32 L33 L35 bodies 2 in component "ButtLid"
sketch "Sketch4" plane through (0, 0, -170) normal (0, 0, -1) x (1, 0, 0) in component "ButtLid"
  line L0 (-3, -22) -> (-1.5, -22)
  line L1 (-1.5, -22) -> (-1.5, -23)
  line L2 (-1.5, -23) -> (-0.1, -23)
  line L3 (-0.1, -23) -> (-0.1, -21)
  line L4 (-0.1, -21) -> (-1.6, -21)
  line L5 (-1.6, -21) -> (-1.6, -3)
  arc A0 (3, 1.6) -> (-1.6, -3) centre (3, -3) ccw
  line L6 (3, 1.6) -> (78, 1.6)
  arc A1 (82.6, -3) -> (78, 1.6) centre (78, -3) ccw
  line L7 (82.6, -3) -> (82.6, -21)
  line L8 (82.6, -21) -> (81.1, -21)
  line L9 (81.1, -21) -> (81.1, -23)
  line L10 (81.1, -23) -> (82.5, -23)
  line L11 (82.5, -23) -> (82.5, -22)
  line L12 (82.5, -22) -> (84, -22)
  line L13 (84, -22) -> (84, -3)
  arc A2 (84, -3) -> (78, 3) centre (78, -3) ccw
  line L14 (78, 3) -> (3, 3)
  arc A3 (3, 3) -> (-3, -3) centre (3, -3) ccw
  line L15 (-3, -3) -> (-3, -22)
  line L16 (-1.6, -21) -> (-0.1, -21)
  line L17 (-0.1, -21) -> (-0.1, -23)
  line L18 (-0.1, -23) -> (-1.6, -23)
  line L19 (-1.6, -23) -> (-1.6, -21)
  line L20 (82.6, -21) -> (81.1, -21)
  line L21 (81.1, -21) -> (81.1, -23)
  line L22 (81.1, -23) -> (82.6, -23)
  line L23 (82.6, -23) -> (82.6, -21)
extrude "Extrude4" cut sketch "Sketch4" against normal blind 1.6 contours L0 L1 L2 L3 L4 L16 L17 L18 L19 | L8 L9 L10 L11 L12 L20 L21 L22 L23 bodies 2 in component "ButtLid"
sketch "Sketch1 (3)" plane through (0, 0, 0) normal (0, 0, -1) x (1, 0, 0) in component "TopLid"
  arc A0 (3, 0) -> (2, -0.1716) centre (3, -3) ccw
  line L0 (3, 0) -> (78, 0)
  arc A1 (79, -0.1716) -> (78, 0) centre (78, -3) ccw
  line L1 (79, -0.1716) -> (79, -14.5)
  line L2 (79, -14.5) -> (81, -14.5)
  line L3 (81, -14.5) -> (81, -16.5)
  line L4 (81, -16.5) -> (79, -16.5)
  line L5 (79, -16.5) -> (79, -26.8284)
  arc A2 (78, -27) -> (79, -26.8284) centre (78, -24) ccw
  line L6 (78, -27) -> (3, -27)
  arc A3 (2, -26.8284) -> (3, -27) centre (3, -24) ccw
  line L7 (2, -26.8284) -> (2, -16.5)
  line L8 (2, -16.5) -> (0, -16.5)
  line L9 (0, -16.5) -> (0, -14.5)
  line L10 (0, -14.5) -> (2, -14.5)
  line L11 (2, -14.5) -> (2, -0.1716)
  arc A4 (82.5, -3) -> (78, 1.5) centre (78, -3) ccw
  line L12 (78, 1.5) -> (3, 1.5)
  arc A5 (3, 1.5) -> (-1.5, -3) centre (3, -3) ccw
  line L13 (-1.5, -3) -> (-1.5, -24)
  arc A6 (-1.5, -24) -> (3, -28.5) centre (3, -24) ccw
  line L14 (3, -28.5) -> (78, -28.5)
  arc A7 (78, -28.5) -> (82.5, -24) centre (78, -24) ccw
  line L15 (82.5, -24) -> (82.5, -3)
  line L16 (78, -28.5) -> (3, -28.5) construction
  arc A8 (-1.5, -24) -> (3, -28.5) centre (3, -24) ccw construction
  line L17 (-1.5, -24) -> (-1.5, -3) construction
  line L18 (-3, -22) -> (-1.6, -22) construction
  arc A9 (78, -28.5) -> (82.5, -24) centre (78, -24) ccw construction
  line L19 (82.5, -3) -> (82.5, -24) construction
  line L20 (82.6, -22) -> (84, -22) construction
  arc A10 (82.6, -3) -> (78, 1.6) centre (78, -3) ccw
  line L21 (78, 1.6) -> (3, 1.6)
  arc A11 (3, 1.6) -> (-1.6, -3) centre (3, -3) ccw
  line L22 (-1.6, -3) -> (-1.6, -24)
  arc A12 (-1.6, -24) -> (3, -28.6) centre (3, -24) ccw
  line L23 (3, -28.6) -> (78, -28.6)
  arc A13 (78, -28.6) -> (82.6, -24) centre (78, -24) ccw
  line L24 (82.6, -24) -> (82.6, -3)
  arc A14 (84, -3) -> (78, 3) centre (78, -3) ccw
  line L25 (78, 3) -> (3, 3)
  arc A15 (3, 3) -> (-3, -3) centre (3, -3) ccw
  line L26 (-3, -3) -> (-3, -24)
  arc A16 (-3, -24) -> (3, -30) centre (3, -24) ccw
  line L27 (3, -30) -> (78, -30)
  arc A17 (78, -30) -> (84, -24) centre (78, -24) ccw
  line L28 (84, -24) -> (84, -3)
  line L29 (84, -21.9) -> (82.6, -21.9)
  line L30 (-1.6, -21.9) -> (-3, -21.9)
  dimension "d89" = 0.1
  dimension "d90" = 1.5
  dimension "d101" = 0.1
  dimension "d102" = 0.1
extrude "Extrude1''" add sketch "Sketch1 (3)" along normal blind 170 separate body contours L22 A12 L23 A13 L24 L26 A16 L27 A17 L28 L29 L30 makes body 3 in component "TopLid"
sketch "Sketch2 (3)" plane through (0, 30, 0) normal (0, 1, 0) x (-1, 0, 0) in component "TopLid"
  line L0 (-3, 0) -> (-78, 0)
  line L1 (-78, 0) -> (-78, -170)
  line L2 (-78, -170) -> (-3, -170)
  line L3 (-3, -170) -> (-3, 0)
  line L4 (-32, -5) -> (-19, -5)
  line L5 (-19, -5) -> (-19, -14)
  line L6 (-19, -14) -> (-32, -14)
  line L7 (-32, -14) -> (-32, -5)
  line L8 (3, 0) -> (3, -170)
  dimension "d95" = 5
  dimension "d96" = 13
  dimension "d97" = 22
  dimension "d98" = 9
extrude "Extrude2''" cut sketch "Sketch2 (3)" against normal blind 1.5 contours L4 L5 L6 L7 bodies 3 in component "TopLid"
sketch "Sketch1 (4)" plane through (0, 0, 0) normal (0, 0, 1) x (1, 0, 0) in component "BackLid"
  line L0 (82.5, 3) -> (82.5, 24)
  arc A0 (82.5, 24) -> (78, 28.5) centre (78, 24) ccw
  line L1 (78, 28.5) -> (3, 28.5)
  arc A1 (78, -1.5) -> (82.5, 3) centre (78, 3) ccw
  line L2 (3, -1.5) -> (78, -1.5)
  arc A2 (-1.5, 3) -> (3, -1.5) centre (3, 3) ccw
  line L3 (-1.5, 24) -> (-1.5, 3)
  arc A3 (3, 28.5) -> (-1.5, 24) centre (3, 24) ccw
extrude "Extrude1'''" add sketch "Sketch1 (4)" against normal blind 1.5 separate body makes body 4 in component "BackLid"
sketch "Sketch2 (4)" plane through (0, 0, -1.5) normal (0, 0, -1) x (1, 0, 0) in component "BackLid"
  arc A0 (-1.5, -24) -> (3, -28.5) centre (3, -24) ccw
  line L0 (3, -28.5) -> (78, -28.5)
  arc A1 (78, -28.5) -> (82.5, -24) centre (78, -24) ccw
  line L1 (82.5, -24) -> (82.5, -3)
  arc A2 (82.5, -3) -> (78, 1.5) centre (78, -3) ccw
  line L2 (78, 1.5) -> (3, 1.5)
  arc A3 (3, 1.5) -> (-1.5, -3) centre (3, -3) ccw
  line L3 (-1.5, -3) -> (-1.5, -24)
  arc A4 (3, 3) -> (-3, -3) centre (3, -3) ccw
  line L4 (-3, -3) -> (-3, -24)
  arc A5 (-3, -24) -> (3, -30) centre (3, -24) ccw
  line L5 (3, -30) -> (78, -30)
  arc A6 (78, -30) -> (84, -24) centre (78, -24) ccw
  line L6 (84, -24) -> (84, -3)
  arc A7 (84, -3) -> (78, 3) centre (78, -3) ccw
  line L7 (78, 3) -> (3, 3)
  dimension "d105" = 1.5
extrude "Extrude2'''" add sketch "Sketch2 (4)" along normal blind 1 contours A0 L0 A1 L1 A2 L2 A3 L3 | A4 L4 A5 L5 A6 L6 A7 L7 bodies 4 in component "BackLid"
component "PWRBankModule" placed x (1, 0, 0) y (0, 1, 0) z (0, 0, 1) at (0, 0, 0)
component "ButtLid" placed x (1, 0, 0) y (0, 1, 0) z (0, 0, 1) at (0, 0, 0)
component "TopLid" placed x (1, 0, 0) y (0, 1, 0) z (0, 0, 1) at (0, 0, 0)
component "BackLid" placed x (1, 0, 0) y (0, 1, 0) z (0, 0, 1) at (0, 0, 0)
